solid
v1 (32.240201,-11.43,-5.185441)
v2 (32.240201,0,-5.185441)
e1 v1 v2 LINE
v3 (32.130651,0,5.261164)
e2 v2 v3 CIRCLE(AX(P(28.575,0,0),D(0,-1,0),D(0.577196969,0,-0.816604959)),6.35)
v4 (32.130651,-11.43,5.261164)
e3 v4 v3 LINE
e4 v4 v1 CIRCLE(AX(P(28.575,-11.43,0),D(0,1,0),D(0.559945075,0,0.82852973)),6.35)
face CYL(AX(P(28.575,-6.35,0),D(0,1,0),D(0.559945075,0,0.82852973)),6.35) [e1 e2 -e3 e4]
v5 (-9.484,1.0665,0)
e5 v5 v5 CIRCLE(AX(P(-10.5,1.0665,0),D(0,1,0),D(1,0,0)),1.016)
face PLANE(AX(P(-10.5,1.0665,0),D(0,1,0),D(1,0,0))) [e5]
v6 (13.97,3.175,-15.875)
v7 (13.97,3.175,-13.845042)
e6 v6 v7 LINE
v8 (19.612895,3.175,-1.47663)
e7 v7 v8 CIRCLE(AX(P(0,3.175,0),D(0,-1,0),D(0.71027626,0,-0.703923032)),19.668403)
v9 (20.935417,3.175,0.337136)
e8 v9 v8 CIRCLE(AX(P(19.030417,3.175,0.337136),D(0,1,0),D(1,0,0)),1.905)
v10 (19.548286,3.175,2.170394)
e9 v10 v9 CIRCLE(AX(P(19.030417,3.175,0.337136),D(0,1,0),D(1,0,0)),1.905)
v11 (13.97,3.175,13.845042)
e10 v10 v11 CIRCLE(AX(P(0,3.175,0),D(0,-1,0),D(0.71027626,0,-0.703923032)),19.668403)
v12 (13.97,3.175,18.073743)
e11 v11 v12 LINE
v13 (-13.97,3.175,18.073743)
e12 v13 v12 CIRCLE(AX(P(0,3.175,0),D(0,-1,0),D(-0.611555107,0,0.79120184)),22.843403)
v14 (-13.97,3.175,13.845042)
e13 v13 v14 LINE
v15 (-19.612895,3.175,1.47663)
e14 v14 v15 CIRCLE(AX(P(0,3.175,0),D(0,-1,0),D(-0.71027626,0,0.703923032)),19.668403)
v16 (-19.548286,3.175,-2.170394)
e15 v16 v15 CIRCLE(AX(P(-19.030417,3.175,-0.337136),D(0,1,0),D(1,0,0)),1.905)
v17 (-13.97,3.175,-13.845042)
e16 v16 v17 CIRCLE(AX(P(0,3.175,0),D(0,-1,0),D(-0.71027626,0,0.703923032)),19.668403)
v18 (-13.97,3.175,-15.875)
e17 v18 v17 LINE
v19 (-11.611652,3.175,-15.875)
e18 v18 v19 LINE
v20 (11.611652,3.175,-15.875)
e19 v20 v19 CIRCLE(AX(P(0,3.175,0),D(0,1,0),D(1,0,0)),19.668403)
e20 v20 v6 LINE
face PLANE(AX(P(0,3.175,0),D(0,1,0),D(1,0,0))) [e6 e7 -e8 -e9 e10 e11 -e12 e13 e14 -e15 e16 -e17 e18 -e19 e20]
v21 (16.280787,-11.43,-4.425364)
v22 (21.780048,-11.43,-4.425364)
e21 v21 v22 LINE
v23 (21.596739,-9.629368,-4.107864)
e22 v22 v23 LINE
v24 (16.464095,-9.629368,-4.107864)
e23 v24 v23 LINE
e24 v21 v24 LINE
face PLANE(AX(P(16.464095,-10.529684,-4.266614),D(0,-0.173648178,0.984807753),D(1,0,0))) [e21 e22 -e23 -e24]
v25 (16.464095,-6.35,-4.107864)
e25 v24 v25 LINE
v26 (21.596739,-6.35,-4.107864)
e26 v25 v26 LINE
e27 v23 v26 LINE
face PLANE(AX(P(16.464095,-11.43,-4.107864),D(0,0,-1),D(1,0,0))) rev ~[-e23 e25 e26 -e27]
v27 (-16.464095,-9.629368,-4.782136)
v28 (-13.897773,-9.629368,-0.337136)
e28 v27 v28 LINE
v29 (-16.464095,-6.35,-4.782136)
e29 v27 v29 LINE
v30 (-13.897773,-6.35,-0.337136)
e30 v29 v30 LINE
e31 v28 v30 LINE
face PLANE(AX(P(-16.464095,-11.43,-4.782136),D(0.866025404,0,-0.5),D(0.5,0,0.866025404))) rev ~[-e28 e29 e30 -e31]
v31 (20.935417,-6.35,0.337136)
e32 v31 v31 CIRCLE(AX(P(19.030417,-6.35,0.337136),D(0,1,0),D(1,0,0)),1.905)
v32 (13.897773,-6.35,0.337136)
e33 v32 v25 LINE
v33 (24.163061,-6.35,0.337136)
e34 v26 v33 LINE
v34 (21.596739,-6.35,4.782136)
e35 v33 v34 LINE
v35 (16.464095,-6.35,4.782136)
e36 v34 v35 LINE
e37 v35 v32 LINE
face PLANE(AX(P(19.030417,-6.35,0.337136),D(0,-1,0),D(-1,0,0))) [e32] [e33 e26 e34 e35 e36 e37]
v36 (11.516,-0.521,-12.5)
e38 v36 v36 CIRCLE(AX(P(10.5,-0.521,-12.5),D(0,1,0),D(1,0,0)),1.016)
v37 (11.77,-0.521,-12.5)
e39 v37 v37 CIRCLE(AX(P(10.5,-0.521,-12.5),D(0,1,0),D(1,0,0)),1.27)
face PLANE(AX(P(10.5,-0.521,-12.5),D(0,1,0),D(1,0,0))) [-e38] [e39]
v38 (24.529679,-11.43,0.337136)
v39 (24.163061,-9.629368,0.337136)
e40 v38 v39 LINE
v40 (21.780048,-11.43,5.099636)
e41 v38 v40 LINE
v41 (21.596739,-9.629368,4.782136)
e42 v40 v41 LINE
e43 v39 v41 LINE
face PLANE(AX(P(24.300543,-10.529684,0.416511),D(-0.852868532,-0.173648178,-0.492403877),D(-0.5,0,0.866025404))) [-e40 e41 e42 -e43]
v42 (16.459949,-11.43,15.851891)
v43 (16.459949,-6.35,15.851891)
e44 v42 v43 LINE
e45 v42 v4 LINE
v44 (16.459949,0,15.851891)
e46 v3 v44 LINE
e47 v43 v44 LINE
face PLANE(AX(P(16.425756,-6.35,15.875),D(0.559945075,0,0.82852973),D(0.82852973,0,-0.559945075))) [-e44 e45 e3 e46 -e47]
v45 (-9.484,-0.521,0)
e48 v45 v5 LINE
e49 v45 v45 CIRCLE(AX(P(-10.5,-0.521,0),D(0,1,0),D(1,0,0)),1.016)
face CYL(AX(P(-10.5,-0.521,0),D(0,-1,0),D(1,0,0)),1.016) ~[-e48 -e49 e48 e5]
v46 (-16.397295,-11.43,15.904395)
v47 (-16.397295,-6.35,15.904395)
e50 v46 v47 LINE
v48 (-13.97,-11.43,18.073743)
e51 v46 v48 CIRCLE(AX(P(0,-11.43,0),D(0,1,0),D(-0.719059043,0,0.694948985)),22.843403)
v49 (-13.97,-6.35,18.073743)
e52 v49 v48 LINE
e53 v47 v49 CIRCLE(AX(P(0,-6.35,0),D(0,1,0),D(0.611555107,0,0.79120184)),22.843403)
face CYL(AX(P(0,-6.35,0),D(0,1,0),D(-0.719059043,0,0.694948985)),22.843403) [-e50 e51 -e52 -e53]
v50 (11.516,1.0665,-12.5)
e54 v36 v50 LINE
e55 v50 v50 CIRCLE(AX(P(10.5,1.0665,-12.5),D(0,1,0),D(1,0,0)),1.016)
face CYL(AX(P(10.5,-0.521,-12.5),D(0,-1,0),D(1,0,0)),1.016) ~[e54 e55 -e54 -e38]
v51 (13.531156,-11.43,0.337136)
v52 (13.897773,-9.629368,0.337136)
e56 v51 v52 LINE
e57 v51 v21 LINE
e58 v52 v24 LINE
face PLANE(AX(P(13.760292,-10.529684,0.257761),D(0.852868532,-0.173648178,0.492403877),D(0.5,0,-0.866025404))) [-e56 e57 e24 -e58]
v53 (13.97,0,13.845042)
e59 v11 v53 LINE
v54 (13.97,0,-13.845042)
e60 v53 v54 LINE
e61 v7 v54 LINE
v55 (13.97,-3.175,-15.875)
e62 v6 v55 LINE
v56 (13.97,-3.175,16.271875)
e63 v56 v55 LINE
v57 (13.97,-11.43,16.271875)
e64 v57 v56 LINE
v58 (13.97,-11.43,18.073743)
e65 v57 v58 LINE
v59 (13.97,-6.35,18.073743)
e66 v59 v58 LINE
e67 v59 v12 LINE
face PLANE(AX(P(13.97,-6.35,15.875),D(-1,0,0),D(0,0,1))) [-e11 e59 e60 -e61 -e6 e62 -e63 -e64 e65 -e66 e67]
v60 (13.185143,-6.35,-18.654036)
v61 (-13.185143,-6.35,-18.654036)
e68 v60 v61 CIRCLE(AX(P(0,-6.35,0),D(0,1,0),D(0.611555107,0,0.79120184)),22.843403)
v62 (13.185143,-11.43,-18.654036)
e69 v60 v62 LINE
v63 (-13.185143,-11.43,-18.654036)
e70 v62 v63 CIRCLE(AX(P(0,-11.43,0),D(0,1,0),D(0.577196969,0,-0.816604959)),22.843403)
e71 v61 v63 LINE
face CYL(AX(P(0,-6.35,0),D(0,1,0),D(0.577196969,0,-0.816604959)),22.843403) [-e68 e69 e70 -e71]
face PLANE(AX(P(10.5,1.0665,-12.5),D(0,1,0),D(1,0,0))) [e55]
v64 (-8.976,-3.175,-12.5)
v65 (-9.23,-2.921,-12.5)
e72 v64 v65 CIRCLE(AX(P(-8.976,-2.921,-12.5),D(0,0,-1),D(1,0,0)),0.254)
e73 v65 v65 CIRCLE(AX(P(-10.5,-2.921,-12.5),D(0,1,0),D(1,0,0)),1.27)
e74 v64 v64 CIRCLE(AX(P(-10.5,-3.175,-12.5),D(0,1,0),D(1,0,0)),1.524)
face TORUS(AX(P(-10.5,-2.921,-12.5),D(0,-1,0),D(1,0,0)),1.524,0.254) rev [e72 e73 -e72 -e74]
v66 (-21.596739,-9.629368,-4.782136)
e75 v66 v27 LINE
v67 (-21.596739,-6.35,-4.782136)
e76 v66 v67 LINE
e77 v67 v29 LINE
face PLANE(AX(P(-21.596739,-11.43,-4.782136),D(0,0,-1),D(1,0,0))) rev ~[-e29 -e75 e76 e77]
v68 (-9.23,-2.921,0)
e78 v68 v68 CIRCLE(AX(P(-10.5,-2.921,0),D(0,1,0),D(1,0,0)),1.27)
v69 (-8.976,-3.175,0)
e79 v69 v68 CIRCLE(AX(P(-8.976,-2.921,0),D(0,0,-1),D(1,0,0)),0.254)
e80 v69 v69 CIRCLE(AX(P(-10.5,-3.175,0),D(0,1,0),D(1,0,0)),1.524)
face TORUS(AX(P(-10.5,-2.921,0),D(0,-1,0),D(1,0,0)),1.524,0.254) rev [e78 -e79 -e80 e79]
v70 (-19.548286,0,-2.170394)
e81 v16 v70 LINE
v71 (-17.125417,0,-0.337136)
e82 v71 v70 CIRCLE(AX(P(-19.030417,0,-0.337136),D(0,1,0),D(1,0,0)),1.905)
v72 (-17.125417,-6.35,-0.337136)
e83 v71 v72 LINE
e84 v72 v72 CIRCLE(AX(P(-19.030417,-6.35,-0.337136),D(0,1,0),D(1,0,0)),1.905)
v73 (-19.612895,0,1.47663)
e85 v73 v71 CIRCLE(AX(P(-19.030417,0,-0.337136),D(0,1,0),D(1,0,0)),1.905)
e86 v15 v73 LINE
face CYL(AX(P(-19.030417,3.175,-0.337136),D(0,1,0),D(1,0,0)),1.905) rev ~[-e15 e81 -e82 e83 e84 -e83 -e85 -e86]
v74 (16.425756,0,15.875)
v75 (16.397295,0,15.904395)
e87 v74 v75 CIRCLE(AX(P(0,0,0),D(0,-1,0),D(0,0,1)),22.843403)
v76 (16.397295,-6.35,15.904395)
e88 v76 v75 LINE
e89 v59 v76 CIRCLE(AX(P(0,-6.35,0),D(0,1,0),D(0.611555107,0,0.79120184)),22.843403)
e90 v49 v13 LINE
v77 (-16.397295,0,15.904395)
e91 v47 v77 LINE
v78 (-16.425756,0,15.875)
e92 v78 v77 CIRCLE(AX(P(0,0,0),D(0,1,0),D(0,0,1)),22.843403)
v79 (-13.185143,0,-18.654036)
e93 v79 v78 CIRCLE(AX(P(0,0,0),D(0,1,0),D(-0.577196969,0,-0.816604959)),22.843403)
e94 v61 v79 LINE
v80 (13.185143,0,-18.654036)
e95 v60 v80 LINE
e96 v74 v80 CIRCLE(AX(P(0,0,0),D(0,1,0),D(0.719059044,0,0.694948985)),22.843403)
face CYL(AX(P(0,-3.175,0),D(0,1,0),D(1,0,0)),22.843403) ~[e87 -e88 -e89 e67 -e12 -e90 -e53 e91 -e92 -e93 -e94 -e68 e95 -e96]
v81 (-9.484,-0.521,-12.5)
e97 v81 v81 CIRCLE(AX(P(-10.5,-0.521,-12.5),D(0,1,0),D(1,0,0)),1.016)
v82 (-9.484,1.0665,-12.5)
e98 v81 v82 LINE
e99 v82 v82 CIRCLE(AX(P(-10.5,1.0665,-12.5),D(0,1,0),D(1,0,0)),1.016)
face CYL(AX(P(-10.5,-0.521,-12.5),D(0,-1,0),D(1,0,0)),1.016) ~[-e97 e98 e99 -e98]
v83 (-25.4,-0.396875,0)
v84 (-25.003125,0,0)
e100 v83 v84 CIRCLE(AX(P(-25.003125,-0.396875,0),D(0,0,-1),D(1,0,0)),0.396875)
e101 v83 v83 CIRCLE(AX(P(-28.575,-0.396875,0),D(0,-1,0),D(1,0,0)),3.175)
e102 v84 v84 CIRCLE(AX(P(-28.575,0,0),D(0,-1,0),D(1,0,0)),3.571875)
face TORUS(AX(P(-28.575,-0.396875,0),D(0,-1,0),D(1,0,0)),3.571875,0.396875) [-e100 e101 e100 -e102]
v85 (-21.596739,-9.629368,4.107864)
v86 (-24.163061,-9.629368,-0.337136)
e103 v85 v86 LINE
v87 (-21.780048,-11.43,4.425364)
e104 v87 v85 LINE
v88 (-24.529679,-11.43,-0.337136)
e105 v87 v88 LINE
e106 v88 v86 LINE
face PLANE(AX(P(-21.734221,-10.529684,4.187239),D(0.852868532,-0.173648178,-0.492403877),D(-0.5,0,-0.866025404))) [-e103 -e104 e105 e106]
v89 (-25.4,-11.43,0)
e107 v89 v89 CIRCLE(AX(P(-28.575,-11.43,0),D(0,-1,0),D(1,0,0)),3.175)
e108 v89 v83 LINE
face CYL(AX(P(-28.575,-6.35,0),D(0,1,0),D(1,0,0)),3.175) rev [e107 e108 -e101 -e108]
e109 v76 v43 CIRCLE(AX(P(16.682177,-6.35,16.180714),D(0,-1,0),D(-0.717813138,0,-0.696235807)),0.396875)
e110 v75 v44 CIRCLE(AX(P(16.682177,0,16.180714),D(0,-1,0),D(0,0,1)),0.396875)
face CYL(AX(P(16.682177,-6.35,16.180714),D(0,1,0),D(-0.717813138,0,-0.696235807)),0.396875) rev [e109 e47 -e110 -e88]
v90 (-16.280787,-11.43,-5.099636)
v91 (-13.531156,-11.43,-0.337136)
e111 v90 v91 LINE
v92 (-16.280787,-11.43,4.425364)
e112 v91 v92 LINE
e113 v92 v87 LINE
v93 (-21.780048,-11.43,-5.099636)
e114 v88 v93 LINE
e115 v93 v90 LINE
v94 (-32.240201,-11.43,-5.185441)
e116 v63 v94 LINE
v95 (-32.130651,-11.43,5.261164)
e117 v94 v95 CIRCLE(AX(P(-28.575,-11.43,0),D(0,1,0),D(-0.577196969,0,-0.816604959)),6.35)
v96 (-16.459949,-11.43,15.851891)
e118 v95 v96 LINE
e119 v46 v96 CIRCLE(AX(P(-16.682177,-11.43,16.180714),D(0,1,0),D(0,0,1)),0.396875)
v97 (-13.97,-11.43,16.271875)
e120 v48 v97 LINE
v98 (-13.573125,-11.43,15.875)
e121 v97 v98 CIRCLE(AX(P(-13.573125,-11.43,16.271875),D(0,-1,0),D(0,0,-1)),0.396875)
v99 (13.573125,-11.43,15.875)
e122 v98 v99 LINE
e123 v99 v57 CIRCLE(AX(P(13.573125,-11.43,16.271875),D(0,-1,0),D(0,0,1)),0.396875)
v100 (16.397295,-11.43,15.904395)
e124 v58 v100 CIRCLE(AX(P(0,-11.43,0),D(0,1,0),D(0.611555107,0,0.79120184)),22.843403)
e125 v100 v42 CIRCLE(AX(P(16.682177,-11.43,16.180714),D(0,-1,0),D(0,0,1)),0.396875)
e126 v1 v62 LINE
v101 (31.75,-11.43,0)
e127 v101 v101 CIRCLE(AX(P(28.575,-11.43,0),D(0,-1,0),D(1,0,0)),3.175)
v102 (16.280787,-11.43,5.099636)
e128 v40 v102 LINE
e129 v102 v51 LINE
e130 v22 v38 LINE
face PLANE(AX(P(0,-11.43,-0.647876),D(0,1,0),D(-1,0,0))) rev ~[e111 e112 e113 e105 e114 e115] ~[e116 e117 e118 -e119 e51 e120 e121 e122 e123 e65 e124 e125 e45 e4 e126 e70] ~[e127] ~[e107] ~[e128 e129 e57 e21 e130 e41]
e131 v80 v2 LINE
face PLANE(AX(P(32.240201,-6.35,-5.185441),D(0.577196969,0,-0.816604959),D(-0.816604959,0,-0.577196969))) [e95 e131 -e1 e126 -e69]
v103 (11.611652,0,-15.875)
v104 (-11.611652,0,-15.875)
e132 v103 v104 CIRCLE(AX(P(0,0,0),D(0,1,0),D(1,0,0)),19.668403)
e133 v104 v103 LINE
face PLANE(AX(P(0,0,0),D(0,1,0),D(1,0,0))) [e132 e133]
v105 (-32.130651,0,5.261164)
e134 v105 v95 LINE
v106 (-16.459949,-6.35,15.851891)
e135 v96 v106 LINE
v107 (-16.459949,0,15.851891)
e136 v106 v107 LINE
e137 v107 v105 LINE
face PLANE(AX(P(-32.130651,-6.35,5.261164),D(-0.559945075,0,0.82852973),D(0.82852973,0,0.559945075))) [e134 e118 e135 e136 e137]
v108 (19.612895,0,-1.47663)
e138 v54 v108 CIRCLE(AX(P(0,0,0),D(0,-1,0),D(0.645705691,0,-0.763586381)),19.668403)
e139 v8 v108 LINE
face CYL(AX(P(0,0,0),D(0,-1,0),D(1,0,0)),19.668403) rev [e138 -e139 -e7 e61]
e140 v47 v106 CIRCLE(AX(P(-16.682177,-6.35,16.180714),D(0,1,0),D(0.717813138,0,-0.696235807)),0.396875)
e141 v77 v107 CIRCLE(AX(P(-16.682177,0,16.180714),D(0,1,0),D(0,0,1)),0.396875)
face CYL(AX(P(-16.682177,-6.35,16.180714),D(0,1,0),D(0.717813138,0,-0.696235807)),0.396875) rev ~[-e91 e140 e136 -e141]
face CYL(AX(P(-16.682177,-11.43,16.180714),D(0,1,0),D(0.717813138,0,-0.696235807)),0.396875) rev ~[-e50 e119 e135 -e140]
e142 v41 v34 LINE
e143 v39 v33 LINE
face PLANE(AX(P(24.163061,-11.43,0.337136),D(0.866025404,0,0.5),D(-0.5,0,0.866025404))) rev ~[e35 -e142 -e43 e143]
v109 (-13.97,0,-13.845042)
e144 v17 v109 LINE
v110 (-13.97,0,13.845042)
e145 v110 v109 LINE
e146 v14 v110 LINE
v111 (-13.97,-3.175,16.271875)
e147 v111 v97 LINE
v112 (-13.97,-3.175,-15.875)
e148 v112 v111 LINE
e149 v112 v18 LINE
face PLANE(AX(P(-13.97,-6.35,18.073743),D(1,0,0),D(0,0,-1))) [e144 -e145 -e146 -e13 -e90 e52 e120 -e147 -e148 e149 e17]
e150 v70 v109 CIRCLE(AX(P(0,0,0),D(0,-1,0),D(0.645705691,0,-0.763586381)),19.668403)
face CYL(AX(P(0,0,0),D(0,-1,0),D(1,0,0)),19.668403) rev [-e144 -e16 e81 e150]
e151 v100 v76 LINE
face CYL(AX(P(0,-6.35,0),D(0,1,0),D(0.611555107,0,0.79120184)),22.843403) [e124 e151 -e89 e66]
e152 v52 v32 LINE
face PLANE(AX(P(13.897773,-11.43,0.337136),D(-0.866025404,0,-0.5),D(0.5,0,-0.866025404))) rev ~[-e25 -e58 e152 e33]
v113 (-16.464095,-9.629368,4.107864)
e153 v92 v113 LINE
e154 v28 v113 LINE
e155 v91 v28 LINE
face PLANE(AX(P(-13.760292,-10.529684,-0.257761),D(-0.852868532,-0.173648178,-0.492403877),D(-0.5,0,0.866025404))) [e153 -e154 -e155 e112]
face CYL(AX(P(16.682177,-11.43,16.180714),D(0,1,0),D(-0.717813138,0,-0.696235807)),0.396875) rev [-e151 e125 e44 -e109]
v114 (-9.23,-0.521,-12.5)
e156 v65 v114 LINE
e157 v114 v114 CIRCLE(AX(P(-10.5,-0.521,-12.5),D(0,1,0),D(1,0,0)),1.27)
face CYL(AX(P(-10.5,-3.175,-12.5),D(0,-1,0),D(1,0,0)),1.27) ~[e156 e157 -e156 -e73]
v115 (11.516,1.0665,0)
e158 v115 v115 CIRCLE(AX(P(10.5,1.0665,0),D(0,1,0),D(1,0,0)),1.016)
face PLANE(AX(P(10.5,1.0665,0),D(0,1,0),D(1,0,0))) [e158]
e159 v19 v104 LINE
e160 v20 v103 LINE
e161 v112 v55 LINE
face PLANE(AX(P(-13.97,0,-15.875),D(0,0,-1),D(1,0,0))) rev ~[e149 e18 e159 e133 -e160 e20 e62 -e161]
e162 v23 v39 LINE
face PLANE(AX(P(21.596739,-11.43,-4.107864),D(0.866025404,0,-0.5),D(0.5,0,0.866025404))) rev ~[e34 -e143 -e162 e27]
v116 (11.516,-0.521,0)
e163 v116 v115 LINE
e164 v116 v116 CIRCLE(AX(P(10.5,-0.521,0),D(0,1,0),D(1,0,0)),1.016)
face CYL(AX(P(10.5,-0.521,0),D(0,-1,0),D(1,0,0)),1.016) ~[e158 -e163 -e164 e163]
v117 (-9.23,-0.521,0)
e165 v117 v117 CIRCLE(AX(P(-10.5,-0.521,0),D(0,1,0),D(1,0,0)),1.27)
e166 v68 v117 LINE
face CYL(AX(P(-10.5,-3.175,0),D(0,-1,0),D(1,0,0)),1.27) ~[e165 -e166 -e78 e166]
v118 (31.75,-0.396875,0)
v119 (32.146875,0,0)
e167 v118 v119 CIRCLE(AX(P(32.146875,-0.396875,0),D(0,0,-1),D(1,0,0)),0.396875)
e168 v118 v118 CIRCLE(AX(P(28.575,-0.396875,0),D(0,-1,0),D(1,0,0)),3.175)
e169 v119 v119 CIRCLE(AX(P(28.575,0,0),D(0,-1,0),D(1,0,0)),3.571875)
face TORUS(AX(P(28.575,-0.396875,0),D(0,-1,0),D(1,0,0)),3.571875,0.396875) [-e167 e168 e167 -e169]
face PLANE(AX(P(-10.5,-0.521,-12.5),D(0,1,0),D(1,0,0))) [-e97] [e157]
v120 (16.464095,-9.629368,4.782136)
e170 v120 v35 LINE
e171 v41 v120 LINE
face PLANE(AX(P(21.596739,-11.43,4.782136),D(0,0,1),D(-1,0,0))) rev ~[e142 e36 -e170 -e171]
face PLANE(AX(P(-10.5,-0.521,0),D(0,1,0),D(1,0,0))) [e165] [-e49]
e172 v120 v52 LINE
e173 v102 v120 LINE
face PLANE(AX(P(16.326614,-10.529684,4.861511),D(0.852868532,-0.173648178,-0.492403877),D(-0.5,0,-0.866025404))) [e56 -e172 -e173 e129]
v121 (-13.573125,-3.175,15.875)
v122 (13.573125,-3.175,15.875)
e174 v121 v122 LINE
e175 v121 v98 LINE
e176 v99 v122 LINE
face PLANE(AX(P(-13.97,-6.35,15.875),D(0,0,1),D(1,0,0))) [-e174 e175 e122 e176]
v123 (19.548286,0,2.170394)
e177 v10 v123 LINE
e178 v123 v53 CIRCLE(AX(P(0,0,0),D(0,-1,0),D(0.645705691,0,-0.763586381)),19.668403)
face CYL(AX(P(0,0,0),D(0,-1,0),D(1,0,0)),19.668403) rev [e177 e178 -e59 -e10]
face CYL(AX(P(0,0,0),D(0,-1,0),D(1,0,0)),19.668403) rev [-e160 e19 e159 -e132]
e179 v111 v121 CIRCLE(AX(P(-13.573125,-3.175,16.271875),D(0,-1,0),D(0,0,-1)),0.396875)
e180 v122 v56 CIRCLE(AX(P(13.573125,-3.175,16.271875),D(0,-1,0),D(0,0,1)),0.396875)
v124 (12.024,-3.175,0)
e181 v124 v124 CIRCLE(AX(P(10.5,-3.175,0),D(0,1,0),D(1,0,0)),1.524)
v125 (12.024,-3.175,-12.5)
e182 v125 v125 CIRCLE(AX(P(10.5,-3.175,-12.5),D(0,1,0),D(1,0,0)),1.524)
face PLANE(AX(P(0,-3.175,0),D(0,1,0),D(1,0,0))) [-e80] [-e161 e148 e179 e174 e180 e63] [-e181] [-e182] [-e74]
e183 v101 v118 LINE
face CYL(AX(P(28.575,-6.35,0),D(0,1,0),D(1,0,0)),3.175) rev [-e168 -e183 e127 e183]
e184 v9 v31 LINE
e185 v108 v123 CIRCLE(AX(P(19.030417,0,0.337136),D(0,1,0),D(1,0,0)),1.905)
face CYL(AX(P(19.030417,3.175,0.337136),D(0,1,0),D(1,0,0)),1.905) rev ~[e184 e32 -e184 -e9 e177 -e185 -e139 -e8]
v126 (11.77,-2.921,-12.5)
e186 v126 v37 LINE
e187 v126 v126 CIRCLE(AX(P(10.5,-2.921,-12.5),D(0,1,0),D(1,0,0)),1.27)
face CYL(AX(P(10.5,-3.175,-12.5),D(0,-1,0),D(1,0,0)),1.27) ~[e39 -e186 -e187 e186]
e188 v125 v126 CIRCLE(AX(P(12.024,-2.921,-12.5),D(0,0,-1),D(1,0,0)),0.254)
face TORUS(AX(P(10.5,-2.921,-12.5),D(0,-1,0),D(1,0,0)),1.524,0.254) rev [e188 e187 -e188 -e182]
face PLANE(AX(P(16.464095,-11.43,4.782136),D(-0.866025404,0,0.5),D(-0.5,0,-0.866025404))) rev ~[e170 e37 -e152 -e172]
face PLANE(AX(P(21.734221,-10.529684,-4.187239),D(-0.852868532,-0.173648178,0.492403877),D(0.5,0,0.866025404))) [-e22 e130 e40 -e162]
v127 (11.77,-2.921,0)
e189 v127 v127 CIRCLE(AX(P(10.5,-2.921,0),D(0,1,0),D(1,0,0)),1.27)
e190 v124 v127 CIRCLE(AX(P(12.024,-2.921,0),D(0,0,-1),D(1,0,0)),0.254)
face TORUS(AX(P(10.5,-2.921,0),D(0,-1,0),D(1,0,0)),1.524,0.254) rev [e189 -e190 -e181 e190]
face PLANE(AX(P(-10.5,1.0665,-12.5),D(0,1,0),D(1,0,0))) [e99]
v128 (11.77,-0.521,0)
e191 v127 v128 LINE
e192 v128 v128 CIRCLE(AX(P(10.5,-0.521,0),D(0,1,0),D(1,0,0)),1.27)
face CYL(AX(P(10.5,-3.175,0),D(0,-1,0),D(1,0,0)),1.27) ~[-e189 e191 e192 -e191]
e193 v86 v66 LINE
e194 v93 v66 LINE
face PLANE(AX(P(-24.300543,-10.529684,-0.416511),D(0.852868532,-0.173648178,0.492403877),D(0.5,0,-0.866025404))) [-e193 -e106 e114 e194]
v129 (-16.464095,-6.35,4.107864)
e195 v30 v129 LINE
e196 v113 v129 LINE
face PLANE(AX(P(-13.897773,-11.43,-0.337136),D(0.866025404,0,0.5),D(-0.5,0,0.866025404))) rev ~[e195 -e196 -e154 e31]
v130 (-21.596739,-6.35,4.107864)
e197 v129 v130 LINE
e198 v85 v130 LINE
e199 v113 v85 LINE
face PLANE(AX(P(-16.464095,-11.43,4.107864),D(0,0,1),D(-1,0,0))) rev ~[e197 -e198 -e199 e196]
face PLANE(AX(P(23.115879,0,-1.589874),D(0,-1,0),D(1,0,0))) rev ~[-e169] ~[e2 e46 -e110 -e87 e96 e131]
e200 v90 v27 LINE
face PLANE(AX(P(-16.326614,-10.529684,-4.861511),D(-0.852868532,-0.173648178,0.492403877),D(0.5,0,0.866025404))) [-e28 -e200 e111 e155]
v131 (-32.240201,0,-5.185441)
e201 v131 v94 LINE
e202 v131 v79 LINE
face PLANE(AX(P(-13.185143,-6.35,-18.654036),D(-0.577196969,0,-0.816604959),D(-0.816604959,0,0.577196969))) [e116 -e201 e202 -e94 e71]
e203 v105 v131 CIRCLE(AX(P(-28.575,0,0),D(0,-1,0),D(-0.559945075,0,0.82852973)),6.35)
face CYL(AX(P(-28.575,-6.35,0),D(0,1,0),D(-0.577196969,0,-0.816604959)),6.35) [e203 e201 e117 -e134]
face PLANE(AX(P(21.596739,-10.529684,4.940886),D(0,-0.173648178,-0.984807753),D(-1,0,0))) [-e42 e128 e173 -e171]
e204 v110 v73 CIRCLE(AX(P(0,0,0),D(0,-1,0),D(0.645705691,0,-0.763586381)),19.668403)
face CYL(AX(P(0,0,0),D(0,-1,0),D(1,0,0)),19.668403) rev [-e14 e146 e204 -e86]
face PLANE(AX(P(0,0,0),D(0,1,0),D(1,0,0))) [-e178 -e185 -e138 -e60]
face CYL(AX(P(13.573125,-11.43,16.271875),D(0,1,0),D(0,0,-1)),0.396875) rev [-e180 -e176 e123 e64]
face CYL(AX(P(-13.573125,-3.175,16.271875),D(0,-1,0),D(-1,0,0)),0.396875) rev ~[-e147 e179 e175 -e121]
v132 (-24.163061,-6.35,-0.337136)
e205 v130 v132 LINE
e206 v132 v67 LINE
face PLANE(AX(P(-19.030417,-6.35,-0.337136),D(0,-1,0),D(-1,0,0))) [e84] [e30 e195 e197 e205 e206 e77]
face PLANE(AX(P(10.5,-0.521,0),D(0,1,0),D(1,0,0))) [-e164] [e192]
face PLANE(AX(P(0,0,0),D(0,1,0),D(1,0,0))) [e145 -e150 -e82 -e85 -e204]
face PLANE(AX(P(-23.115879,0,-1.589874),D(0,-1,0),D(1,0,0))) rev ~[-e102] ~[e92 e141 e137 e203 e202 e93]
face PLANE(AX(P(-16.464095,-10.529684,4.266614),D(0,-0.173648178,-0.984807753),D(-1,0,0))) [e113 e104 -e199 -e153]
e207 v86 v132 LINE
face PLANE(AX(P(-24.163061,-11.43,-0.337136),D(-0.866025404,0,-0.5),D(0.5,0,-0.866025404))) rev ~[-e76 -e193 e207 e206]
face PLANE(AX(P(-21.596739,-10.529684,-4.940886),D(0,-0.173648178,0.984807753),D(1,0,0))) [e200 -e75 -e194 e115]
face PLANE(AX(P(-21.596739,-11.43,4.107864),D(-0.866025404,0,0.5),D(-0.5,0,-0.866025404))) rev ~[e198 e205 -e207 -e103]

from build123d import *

# Parameters (mm, degrees)
SKETCH1_R               = 22.843403387
SKETCH1_W               = 25.4
SKETCH1_H               = 25.4
BOSS_EXTRUDE1_DEPTH     = 3.175
SKETCH3_R               = 22.843403387
SKETCH3_R_2             = 19.668403387
BOSS_EXTRUDE2_DEPTH     = 3.175
SKETCH4_R               = 22.843403387
BOSS_EXTRUDE3_DEPTH     = 3.175
SKETCH14_W              = 25.4
SKETCH14_H              = 3.175
CUT_EXTRUDE5_DEPTH      = 3.175
CUT_EXTRUDE5_DEPTH_BACK = 3.175
SKETCH18_W              = 27.94
SKETCH18_H              = 31.75
CUT_EXTRUDE7_DEPTH      = 4.175
CUT_EXTRUDE7_DEPTH_BACK = 3.175
SKETCH7_W               = 27.94
SKETCH7_H               = 25.4
CUT_EXTRUDE1_DEPTH      = 10.525
SKETCH9_R               = 1.27
BOSS_EXTRUDE4_DEPTH     = 2.654
SKETCH12_R              = 1.905
CUT_EXTRUDE3_DEPTH      = 1
CUT_EXTRUDE3_DEPTH_BACK = 10.525
SKETCH15_R              = 3.175
BOSS_EXTRUDE5_DEPTH     = 6.35
SKETCH17_R              = 3.175
BOSS_EXTRUDE6_DEPTH     = 5.08
CUT_EXTRUDE6_DEPTH      = 5.08
FILLET1_R               = 0.254
FILLET2_R               = 0.396875
CHAMFER2_SIZE           = 0.3175
CHAMFER2_SIZE2          = 1.800631978
SKETCH20_R              = 1.016
BOSS_EXTRUDE8_DEPTH     = 1.5875


with BuildPart() as part:
    # Sketch1 → Boss-Extrude1 (new body)
    with BuildSketch(Plane(origin=(0, 0, 0), x_dir=(1, 0, 0), z_dir=(0, 1, 0))):
        Circle(SKETCH1_R)
        Rectangle(SKETCH1_W, SKETCH1_H, mode=Mode.SUBTRACT)
    extrude(amount=-BOSS_EXTRUDE1_DEPTH)

    # Sketch3 → Boss-Extrude2 (add)
    with BuildSketch(Plane(origin=(0, 0, 0), x_dir=(1, 0, 0), z_dir=(0, 1, 0))):
        Circle(SKETCH3_R)
        Circle(SKETCH3_R_2, mode=Mode.SUBTRACT)
    extrude(amount=BOSS_EXTRUDE2_DEPTH)

    # Sketch4 → Boss-Extrude3 (add)
    with BuildSketch(Plane.XZ.offset(3.175)):
        Circle(SKETCH4_R)
    extrude(amount=BOSS_EXTRUDE3_DEPTH)

    # Sketch14 → Cut-Extrude5 (cut, two sides)
    with BuildSketch(Plane(origin=(0, 0, 0), x_dir=(1, 0, 0), z_dir=(0, 1, 0))) as cut_extrude5_sk:
        with Locations((0, 14.2875)):
            Rectangle(SKETCH14_W, SKETCH14_H)
    extrude(amount=CUT_EXTRUDE5_DEPTH, mode=Mode.SUBTRACT)
    extrude(cut_extrude5_sk.sketch, amount=-CUT_EXTRUDE5_DEPTH_BACK, mode=Mode.SUBTRACT)

    # Sketch18 → Cut-Extrude7 (cut, two sides)
    with BuildSketch(Plane(origin=(0, 0, 0), x_dir=(1, 0, 0), z_dir=(0, 1, 0))) as cut_extrude7_sk:
        Rectangle(SKETCH18_W, SKETCH18_H)
    extrude(amount=CUT_EXTRUDE7_DEPTH, mode=Mode.SUBTRACT)
    extrude(cut_extrude7_sk.sketch, amount=-CUT_EXTRUDE7_DEPTH_BACK, mode=Mode.SUBTRACT)

    # Sketch7 → Cut-Extrude1 (cut, through all)
    with BuildSketch(Plane(origin=(0, 3.175, 0), x_dir=(1, 0, 0), z_dir=(0, 1, 0))):
        with Locations((0, -28.575)):
            Rectangle(SKETCH7_W, SKETCH7_H)
    extrude(amount=-CUT_EXTRUDE1_DEPTH, mode=Mode.SUBTRACT)

    # Sketch9 → Boss-Extrude4 (add)
    with BuildSketch(Plane(origin=(0, -3.175, 0), x_dir=(1, 0, 0), z_dir=(0, 1, 0))):
        with Locations((-10.5, 12.5)):
            Circle(SKETCH9_R)
        with Locations((10.5, 12.5)):
            Circle(SKETCH9_R)
        with Locations((10.5, 0)):
            Circle(SKETCH9_R)
        with Locations((-10.5, 0)):
            Circle(SKETCH9_R)
    extrude(amount=BOSS_EXTRUDE4_DEPTH)

    # Sketch12 → Cut-Extrude3 (cut, two sides)
    with BuildSketch(Plane(origin=(0, 3.175, 0), x_dir=(1, 0, 0), z_dir=(0, 1, 0))) as cut_extrude3_sk:
        with Locations((-19.030417336, 0.337135758)):
            Circle(SKETCH12_R)
        with Locations((19.030417335, -0.337135758)):
            Circle(SKETCH12_R)
    extrude(amount=CUT_EXTRUDE3_DEPTH, mode=Mode.SUBTRACT)
    extrude(cut_extrude3_sk.sketch, amount=-CUT_EXTRUDE3_DEPTH_BACK, mode=Mode.SUBTRACT)

    # Sketch15 → Boss-Extrude5 (add)
    with BuildSketch(Plane.XZ.offset(6.35)):
        with BuildLine():
            ThreePointArc((16.425755791, 15.875), (22.743458946, -2.134514804), (13.185143195, -18.654036486))
            Line((13.185143195, -18.654036486), (32.240200753, -5.18544149))
            ThreePointArc((32.240200753, -5.18544149), (34.924650877, 0.066586344), (32.130651226, 5.261163784))
            Line((32.130651226, 5.261163784), (16.425755791, 15.875))
        make_face()
        with Locations((28.575, 0)):
            Circle(SKETCH15_R, mode=Mode.SUBTRACT)
        with BuildLine():
            ThreePointArc((-13.185143195, -18.654036486), (-22.743458946, -2.134514804), (-16.425755791, 15.875))
            Line((-16.425755791, 15.875), (-32.130651226, 5.261163784))
            ThreePointArc((-32.130651226, 5.261163784), (-34.924650877, 0.066586344), (-32.240200753, -5.18544149))
            Line((-32.240200753, -5.18544149), (-13.185143195, -18.654036486))
        make_face()
        with Locations((-28.575, 0)):
            Circle(SKETCH15_R, mode=Mode.SUBTRACT)
    extrude(amount=-BOSS_EXTRUDE5_DEPTH)

    # Sketch17 → Boss-Extrude6 (add)
    with BuildSketch(Plane.XZ.offset(6.35)):
        with BuildLine():
            Line((-13.97, 15.875), (13.97, 15.875))
            Line((13.97, 15.875), (13.97, 18.073742786))
            ThreePointArc((13.97, 18.073742786), (15.237588719, 17.018724051), (16.425755791, 15.875))
            Line((16.425755791, 15.875), (32.130651226, 5.261163784))
            ThreePointArc((32.130651226, 5.261163784), (34.924650877, 0.066586344), (32.240200753, -5.18544149))
            Line((32.240200753, -5.18544149), (13.185143195, -18.654036486))
            ThreePointArc((13.185143195, -18.654036486), (0, -22.843403387), (-13.185143195, -18.654036486))
            Line((-13.185143195, -18.654036486), (-32.240200753, -5.18544149))
            ThreePointArc((-32.240200753, -5.18544149), (-34.924650877, 0.066586344), (-32.130651226, 5.261163784))
            Line((-32.130651226, 5.261163784), (-16.425755791, 15.875))
            ThreePointArc((-16.425755791, 15.875), (-15.237588719, 17.018724051), (-13.97, 18.073742786))
            Line((-13.97, 18.073742786), (-13.97, 15.875))
        make_face()
        with Locations((-28.575, 0)):
            Circle(SKETCH17_R, mode=Mode.SUBTRACT)
        with Locations((28.575, 0)):
            Circle(SKETCH17_R, mode=Mode.SUBTRACT)
    extrude(amount=BOSS_EXTRUDE6_DEPTH)

    # Sketch16 → Cut-Extrude6 (cut)
    with BuildSketch(Plane(origin=(0, -11.43, 0), x_dir=(-1, 0, 0), z_dir=(0, -1, 0))):
        Polygon((13.897773442, 0.337135758), (16.464095389, -4.107864242), (21.596739282, -4.107864242), (24.163061229, 0.337135758), (21.596739282, 4.782135758), (16.464095389, 4.782135758), align=None)
        Polygon((-16.464095389, 4.107864242), (-21.596739282, 4.107864242), (-24.163061229, -0.337135758), (-21.596739282, -4.782135758), (-16.464095389, -4.782135758), (-13.897773442, -0.337135758), align=None)
    extrude(amount=-CUT_EXTRUDE6_DEPTH, mode=Mode.SUBTRACT)

    # Fillet1
    fillet1_edges = [part.edges().sort_by_distance(p)[0] for p in [
        (-11.77, -3.175, -12.5),
        (9.23, -3.175, -12.5),
        (9.23, -3.175, 0),
        (-11.77, -3.175, 0),
    ]]
    fillet(fillet1_edges, radius=FILLET1_R)

    # Fillet2
    fillet2_edges = [part.edges().sort_by_distance(p)[0] for p in [
        (-13.97, -7.3025, 15.875),
        (13.97, -7.3025, 15.875),
        (16.425755791, -3.175, 15.875),
        (25.4, 0, 0),
        (-16.425755791, -3.175, 15.875),
        (-31.75, 0, 0),
    ]]
    fillet(fillet2_edges, radius=FILLET2_R)

    # Chamfer2
    chamfer2_edges = [part.edges().sort_by_distance(p)[0] for p in [
        (-15.180934416, -11.43, -2.559635758),
        (-15.180934416, -11.43, 1.885364242),
        (-19.030417336, -11.43, 4.107864242),
        (-22.879900255, -11.43, 1.885364242),
        (-22.879900255, -11.43, -2.559635758),
        (-19.030417336, -11.43, -4.782135758),
        (15.180934416, -11.43, -1.885364242),
        (19.030417335, -11.43, -4.107864242),
        (22.879900255, -11.43, -1.885364242),
        (22.879900255, -11.43, 2.559635758),
        (19.030417335, -11.43, 4.782135758),
        (15.180934416, -11.43, 2.559635758),
    ]]
    chamfer2_side = [part.faces().sort_by_distance(p)[0] for p in [
        (0, -11.43, -1.727723588),
    ]]
    chamfer(chamfer2_edges, length=CHAMFER2_SIZE, length2=CHAMFER2_SIZE2, reference=chamfer2_side[0])

    # Sketch20 → Boss-Extrude8 (add)
    with BuildSketch(Plane(origin=(0, -0.521, 0), x_dir=(1, 0, 0), z_dir=(0, 1, 0))):
        with Locations((10.5, 12.5)):
            Circle(SKETCH20_R)
        with Locations((10.5, 0)):
            Circle(SKETCH20_R)
        with Locations((-10.5, 0)):
            Circle(SKETCH20_R)
        with Locations((-10.5, 12.5)):
            Circle(SKETCH20_R)
    extrude(amount=BOSS_EXTRUDE8_DEPTH)


solid = part.part
